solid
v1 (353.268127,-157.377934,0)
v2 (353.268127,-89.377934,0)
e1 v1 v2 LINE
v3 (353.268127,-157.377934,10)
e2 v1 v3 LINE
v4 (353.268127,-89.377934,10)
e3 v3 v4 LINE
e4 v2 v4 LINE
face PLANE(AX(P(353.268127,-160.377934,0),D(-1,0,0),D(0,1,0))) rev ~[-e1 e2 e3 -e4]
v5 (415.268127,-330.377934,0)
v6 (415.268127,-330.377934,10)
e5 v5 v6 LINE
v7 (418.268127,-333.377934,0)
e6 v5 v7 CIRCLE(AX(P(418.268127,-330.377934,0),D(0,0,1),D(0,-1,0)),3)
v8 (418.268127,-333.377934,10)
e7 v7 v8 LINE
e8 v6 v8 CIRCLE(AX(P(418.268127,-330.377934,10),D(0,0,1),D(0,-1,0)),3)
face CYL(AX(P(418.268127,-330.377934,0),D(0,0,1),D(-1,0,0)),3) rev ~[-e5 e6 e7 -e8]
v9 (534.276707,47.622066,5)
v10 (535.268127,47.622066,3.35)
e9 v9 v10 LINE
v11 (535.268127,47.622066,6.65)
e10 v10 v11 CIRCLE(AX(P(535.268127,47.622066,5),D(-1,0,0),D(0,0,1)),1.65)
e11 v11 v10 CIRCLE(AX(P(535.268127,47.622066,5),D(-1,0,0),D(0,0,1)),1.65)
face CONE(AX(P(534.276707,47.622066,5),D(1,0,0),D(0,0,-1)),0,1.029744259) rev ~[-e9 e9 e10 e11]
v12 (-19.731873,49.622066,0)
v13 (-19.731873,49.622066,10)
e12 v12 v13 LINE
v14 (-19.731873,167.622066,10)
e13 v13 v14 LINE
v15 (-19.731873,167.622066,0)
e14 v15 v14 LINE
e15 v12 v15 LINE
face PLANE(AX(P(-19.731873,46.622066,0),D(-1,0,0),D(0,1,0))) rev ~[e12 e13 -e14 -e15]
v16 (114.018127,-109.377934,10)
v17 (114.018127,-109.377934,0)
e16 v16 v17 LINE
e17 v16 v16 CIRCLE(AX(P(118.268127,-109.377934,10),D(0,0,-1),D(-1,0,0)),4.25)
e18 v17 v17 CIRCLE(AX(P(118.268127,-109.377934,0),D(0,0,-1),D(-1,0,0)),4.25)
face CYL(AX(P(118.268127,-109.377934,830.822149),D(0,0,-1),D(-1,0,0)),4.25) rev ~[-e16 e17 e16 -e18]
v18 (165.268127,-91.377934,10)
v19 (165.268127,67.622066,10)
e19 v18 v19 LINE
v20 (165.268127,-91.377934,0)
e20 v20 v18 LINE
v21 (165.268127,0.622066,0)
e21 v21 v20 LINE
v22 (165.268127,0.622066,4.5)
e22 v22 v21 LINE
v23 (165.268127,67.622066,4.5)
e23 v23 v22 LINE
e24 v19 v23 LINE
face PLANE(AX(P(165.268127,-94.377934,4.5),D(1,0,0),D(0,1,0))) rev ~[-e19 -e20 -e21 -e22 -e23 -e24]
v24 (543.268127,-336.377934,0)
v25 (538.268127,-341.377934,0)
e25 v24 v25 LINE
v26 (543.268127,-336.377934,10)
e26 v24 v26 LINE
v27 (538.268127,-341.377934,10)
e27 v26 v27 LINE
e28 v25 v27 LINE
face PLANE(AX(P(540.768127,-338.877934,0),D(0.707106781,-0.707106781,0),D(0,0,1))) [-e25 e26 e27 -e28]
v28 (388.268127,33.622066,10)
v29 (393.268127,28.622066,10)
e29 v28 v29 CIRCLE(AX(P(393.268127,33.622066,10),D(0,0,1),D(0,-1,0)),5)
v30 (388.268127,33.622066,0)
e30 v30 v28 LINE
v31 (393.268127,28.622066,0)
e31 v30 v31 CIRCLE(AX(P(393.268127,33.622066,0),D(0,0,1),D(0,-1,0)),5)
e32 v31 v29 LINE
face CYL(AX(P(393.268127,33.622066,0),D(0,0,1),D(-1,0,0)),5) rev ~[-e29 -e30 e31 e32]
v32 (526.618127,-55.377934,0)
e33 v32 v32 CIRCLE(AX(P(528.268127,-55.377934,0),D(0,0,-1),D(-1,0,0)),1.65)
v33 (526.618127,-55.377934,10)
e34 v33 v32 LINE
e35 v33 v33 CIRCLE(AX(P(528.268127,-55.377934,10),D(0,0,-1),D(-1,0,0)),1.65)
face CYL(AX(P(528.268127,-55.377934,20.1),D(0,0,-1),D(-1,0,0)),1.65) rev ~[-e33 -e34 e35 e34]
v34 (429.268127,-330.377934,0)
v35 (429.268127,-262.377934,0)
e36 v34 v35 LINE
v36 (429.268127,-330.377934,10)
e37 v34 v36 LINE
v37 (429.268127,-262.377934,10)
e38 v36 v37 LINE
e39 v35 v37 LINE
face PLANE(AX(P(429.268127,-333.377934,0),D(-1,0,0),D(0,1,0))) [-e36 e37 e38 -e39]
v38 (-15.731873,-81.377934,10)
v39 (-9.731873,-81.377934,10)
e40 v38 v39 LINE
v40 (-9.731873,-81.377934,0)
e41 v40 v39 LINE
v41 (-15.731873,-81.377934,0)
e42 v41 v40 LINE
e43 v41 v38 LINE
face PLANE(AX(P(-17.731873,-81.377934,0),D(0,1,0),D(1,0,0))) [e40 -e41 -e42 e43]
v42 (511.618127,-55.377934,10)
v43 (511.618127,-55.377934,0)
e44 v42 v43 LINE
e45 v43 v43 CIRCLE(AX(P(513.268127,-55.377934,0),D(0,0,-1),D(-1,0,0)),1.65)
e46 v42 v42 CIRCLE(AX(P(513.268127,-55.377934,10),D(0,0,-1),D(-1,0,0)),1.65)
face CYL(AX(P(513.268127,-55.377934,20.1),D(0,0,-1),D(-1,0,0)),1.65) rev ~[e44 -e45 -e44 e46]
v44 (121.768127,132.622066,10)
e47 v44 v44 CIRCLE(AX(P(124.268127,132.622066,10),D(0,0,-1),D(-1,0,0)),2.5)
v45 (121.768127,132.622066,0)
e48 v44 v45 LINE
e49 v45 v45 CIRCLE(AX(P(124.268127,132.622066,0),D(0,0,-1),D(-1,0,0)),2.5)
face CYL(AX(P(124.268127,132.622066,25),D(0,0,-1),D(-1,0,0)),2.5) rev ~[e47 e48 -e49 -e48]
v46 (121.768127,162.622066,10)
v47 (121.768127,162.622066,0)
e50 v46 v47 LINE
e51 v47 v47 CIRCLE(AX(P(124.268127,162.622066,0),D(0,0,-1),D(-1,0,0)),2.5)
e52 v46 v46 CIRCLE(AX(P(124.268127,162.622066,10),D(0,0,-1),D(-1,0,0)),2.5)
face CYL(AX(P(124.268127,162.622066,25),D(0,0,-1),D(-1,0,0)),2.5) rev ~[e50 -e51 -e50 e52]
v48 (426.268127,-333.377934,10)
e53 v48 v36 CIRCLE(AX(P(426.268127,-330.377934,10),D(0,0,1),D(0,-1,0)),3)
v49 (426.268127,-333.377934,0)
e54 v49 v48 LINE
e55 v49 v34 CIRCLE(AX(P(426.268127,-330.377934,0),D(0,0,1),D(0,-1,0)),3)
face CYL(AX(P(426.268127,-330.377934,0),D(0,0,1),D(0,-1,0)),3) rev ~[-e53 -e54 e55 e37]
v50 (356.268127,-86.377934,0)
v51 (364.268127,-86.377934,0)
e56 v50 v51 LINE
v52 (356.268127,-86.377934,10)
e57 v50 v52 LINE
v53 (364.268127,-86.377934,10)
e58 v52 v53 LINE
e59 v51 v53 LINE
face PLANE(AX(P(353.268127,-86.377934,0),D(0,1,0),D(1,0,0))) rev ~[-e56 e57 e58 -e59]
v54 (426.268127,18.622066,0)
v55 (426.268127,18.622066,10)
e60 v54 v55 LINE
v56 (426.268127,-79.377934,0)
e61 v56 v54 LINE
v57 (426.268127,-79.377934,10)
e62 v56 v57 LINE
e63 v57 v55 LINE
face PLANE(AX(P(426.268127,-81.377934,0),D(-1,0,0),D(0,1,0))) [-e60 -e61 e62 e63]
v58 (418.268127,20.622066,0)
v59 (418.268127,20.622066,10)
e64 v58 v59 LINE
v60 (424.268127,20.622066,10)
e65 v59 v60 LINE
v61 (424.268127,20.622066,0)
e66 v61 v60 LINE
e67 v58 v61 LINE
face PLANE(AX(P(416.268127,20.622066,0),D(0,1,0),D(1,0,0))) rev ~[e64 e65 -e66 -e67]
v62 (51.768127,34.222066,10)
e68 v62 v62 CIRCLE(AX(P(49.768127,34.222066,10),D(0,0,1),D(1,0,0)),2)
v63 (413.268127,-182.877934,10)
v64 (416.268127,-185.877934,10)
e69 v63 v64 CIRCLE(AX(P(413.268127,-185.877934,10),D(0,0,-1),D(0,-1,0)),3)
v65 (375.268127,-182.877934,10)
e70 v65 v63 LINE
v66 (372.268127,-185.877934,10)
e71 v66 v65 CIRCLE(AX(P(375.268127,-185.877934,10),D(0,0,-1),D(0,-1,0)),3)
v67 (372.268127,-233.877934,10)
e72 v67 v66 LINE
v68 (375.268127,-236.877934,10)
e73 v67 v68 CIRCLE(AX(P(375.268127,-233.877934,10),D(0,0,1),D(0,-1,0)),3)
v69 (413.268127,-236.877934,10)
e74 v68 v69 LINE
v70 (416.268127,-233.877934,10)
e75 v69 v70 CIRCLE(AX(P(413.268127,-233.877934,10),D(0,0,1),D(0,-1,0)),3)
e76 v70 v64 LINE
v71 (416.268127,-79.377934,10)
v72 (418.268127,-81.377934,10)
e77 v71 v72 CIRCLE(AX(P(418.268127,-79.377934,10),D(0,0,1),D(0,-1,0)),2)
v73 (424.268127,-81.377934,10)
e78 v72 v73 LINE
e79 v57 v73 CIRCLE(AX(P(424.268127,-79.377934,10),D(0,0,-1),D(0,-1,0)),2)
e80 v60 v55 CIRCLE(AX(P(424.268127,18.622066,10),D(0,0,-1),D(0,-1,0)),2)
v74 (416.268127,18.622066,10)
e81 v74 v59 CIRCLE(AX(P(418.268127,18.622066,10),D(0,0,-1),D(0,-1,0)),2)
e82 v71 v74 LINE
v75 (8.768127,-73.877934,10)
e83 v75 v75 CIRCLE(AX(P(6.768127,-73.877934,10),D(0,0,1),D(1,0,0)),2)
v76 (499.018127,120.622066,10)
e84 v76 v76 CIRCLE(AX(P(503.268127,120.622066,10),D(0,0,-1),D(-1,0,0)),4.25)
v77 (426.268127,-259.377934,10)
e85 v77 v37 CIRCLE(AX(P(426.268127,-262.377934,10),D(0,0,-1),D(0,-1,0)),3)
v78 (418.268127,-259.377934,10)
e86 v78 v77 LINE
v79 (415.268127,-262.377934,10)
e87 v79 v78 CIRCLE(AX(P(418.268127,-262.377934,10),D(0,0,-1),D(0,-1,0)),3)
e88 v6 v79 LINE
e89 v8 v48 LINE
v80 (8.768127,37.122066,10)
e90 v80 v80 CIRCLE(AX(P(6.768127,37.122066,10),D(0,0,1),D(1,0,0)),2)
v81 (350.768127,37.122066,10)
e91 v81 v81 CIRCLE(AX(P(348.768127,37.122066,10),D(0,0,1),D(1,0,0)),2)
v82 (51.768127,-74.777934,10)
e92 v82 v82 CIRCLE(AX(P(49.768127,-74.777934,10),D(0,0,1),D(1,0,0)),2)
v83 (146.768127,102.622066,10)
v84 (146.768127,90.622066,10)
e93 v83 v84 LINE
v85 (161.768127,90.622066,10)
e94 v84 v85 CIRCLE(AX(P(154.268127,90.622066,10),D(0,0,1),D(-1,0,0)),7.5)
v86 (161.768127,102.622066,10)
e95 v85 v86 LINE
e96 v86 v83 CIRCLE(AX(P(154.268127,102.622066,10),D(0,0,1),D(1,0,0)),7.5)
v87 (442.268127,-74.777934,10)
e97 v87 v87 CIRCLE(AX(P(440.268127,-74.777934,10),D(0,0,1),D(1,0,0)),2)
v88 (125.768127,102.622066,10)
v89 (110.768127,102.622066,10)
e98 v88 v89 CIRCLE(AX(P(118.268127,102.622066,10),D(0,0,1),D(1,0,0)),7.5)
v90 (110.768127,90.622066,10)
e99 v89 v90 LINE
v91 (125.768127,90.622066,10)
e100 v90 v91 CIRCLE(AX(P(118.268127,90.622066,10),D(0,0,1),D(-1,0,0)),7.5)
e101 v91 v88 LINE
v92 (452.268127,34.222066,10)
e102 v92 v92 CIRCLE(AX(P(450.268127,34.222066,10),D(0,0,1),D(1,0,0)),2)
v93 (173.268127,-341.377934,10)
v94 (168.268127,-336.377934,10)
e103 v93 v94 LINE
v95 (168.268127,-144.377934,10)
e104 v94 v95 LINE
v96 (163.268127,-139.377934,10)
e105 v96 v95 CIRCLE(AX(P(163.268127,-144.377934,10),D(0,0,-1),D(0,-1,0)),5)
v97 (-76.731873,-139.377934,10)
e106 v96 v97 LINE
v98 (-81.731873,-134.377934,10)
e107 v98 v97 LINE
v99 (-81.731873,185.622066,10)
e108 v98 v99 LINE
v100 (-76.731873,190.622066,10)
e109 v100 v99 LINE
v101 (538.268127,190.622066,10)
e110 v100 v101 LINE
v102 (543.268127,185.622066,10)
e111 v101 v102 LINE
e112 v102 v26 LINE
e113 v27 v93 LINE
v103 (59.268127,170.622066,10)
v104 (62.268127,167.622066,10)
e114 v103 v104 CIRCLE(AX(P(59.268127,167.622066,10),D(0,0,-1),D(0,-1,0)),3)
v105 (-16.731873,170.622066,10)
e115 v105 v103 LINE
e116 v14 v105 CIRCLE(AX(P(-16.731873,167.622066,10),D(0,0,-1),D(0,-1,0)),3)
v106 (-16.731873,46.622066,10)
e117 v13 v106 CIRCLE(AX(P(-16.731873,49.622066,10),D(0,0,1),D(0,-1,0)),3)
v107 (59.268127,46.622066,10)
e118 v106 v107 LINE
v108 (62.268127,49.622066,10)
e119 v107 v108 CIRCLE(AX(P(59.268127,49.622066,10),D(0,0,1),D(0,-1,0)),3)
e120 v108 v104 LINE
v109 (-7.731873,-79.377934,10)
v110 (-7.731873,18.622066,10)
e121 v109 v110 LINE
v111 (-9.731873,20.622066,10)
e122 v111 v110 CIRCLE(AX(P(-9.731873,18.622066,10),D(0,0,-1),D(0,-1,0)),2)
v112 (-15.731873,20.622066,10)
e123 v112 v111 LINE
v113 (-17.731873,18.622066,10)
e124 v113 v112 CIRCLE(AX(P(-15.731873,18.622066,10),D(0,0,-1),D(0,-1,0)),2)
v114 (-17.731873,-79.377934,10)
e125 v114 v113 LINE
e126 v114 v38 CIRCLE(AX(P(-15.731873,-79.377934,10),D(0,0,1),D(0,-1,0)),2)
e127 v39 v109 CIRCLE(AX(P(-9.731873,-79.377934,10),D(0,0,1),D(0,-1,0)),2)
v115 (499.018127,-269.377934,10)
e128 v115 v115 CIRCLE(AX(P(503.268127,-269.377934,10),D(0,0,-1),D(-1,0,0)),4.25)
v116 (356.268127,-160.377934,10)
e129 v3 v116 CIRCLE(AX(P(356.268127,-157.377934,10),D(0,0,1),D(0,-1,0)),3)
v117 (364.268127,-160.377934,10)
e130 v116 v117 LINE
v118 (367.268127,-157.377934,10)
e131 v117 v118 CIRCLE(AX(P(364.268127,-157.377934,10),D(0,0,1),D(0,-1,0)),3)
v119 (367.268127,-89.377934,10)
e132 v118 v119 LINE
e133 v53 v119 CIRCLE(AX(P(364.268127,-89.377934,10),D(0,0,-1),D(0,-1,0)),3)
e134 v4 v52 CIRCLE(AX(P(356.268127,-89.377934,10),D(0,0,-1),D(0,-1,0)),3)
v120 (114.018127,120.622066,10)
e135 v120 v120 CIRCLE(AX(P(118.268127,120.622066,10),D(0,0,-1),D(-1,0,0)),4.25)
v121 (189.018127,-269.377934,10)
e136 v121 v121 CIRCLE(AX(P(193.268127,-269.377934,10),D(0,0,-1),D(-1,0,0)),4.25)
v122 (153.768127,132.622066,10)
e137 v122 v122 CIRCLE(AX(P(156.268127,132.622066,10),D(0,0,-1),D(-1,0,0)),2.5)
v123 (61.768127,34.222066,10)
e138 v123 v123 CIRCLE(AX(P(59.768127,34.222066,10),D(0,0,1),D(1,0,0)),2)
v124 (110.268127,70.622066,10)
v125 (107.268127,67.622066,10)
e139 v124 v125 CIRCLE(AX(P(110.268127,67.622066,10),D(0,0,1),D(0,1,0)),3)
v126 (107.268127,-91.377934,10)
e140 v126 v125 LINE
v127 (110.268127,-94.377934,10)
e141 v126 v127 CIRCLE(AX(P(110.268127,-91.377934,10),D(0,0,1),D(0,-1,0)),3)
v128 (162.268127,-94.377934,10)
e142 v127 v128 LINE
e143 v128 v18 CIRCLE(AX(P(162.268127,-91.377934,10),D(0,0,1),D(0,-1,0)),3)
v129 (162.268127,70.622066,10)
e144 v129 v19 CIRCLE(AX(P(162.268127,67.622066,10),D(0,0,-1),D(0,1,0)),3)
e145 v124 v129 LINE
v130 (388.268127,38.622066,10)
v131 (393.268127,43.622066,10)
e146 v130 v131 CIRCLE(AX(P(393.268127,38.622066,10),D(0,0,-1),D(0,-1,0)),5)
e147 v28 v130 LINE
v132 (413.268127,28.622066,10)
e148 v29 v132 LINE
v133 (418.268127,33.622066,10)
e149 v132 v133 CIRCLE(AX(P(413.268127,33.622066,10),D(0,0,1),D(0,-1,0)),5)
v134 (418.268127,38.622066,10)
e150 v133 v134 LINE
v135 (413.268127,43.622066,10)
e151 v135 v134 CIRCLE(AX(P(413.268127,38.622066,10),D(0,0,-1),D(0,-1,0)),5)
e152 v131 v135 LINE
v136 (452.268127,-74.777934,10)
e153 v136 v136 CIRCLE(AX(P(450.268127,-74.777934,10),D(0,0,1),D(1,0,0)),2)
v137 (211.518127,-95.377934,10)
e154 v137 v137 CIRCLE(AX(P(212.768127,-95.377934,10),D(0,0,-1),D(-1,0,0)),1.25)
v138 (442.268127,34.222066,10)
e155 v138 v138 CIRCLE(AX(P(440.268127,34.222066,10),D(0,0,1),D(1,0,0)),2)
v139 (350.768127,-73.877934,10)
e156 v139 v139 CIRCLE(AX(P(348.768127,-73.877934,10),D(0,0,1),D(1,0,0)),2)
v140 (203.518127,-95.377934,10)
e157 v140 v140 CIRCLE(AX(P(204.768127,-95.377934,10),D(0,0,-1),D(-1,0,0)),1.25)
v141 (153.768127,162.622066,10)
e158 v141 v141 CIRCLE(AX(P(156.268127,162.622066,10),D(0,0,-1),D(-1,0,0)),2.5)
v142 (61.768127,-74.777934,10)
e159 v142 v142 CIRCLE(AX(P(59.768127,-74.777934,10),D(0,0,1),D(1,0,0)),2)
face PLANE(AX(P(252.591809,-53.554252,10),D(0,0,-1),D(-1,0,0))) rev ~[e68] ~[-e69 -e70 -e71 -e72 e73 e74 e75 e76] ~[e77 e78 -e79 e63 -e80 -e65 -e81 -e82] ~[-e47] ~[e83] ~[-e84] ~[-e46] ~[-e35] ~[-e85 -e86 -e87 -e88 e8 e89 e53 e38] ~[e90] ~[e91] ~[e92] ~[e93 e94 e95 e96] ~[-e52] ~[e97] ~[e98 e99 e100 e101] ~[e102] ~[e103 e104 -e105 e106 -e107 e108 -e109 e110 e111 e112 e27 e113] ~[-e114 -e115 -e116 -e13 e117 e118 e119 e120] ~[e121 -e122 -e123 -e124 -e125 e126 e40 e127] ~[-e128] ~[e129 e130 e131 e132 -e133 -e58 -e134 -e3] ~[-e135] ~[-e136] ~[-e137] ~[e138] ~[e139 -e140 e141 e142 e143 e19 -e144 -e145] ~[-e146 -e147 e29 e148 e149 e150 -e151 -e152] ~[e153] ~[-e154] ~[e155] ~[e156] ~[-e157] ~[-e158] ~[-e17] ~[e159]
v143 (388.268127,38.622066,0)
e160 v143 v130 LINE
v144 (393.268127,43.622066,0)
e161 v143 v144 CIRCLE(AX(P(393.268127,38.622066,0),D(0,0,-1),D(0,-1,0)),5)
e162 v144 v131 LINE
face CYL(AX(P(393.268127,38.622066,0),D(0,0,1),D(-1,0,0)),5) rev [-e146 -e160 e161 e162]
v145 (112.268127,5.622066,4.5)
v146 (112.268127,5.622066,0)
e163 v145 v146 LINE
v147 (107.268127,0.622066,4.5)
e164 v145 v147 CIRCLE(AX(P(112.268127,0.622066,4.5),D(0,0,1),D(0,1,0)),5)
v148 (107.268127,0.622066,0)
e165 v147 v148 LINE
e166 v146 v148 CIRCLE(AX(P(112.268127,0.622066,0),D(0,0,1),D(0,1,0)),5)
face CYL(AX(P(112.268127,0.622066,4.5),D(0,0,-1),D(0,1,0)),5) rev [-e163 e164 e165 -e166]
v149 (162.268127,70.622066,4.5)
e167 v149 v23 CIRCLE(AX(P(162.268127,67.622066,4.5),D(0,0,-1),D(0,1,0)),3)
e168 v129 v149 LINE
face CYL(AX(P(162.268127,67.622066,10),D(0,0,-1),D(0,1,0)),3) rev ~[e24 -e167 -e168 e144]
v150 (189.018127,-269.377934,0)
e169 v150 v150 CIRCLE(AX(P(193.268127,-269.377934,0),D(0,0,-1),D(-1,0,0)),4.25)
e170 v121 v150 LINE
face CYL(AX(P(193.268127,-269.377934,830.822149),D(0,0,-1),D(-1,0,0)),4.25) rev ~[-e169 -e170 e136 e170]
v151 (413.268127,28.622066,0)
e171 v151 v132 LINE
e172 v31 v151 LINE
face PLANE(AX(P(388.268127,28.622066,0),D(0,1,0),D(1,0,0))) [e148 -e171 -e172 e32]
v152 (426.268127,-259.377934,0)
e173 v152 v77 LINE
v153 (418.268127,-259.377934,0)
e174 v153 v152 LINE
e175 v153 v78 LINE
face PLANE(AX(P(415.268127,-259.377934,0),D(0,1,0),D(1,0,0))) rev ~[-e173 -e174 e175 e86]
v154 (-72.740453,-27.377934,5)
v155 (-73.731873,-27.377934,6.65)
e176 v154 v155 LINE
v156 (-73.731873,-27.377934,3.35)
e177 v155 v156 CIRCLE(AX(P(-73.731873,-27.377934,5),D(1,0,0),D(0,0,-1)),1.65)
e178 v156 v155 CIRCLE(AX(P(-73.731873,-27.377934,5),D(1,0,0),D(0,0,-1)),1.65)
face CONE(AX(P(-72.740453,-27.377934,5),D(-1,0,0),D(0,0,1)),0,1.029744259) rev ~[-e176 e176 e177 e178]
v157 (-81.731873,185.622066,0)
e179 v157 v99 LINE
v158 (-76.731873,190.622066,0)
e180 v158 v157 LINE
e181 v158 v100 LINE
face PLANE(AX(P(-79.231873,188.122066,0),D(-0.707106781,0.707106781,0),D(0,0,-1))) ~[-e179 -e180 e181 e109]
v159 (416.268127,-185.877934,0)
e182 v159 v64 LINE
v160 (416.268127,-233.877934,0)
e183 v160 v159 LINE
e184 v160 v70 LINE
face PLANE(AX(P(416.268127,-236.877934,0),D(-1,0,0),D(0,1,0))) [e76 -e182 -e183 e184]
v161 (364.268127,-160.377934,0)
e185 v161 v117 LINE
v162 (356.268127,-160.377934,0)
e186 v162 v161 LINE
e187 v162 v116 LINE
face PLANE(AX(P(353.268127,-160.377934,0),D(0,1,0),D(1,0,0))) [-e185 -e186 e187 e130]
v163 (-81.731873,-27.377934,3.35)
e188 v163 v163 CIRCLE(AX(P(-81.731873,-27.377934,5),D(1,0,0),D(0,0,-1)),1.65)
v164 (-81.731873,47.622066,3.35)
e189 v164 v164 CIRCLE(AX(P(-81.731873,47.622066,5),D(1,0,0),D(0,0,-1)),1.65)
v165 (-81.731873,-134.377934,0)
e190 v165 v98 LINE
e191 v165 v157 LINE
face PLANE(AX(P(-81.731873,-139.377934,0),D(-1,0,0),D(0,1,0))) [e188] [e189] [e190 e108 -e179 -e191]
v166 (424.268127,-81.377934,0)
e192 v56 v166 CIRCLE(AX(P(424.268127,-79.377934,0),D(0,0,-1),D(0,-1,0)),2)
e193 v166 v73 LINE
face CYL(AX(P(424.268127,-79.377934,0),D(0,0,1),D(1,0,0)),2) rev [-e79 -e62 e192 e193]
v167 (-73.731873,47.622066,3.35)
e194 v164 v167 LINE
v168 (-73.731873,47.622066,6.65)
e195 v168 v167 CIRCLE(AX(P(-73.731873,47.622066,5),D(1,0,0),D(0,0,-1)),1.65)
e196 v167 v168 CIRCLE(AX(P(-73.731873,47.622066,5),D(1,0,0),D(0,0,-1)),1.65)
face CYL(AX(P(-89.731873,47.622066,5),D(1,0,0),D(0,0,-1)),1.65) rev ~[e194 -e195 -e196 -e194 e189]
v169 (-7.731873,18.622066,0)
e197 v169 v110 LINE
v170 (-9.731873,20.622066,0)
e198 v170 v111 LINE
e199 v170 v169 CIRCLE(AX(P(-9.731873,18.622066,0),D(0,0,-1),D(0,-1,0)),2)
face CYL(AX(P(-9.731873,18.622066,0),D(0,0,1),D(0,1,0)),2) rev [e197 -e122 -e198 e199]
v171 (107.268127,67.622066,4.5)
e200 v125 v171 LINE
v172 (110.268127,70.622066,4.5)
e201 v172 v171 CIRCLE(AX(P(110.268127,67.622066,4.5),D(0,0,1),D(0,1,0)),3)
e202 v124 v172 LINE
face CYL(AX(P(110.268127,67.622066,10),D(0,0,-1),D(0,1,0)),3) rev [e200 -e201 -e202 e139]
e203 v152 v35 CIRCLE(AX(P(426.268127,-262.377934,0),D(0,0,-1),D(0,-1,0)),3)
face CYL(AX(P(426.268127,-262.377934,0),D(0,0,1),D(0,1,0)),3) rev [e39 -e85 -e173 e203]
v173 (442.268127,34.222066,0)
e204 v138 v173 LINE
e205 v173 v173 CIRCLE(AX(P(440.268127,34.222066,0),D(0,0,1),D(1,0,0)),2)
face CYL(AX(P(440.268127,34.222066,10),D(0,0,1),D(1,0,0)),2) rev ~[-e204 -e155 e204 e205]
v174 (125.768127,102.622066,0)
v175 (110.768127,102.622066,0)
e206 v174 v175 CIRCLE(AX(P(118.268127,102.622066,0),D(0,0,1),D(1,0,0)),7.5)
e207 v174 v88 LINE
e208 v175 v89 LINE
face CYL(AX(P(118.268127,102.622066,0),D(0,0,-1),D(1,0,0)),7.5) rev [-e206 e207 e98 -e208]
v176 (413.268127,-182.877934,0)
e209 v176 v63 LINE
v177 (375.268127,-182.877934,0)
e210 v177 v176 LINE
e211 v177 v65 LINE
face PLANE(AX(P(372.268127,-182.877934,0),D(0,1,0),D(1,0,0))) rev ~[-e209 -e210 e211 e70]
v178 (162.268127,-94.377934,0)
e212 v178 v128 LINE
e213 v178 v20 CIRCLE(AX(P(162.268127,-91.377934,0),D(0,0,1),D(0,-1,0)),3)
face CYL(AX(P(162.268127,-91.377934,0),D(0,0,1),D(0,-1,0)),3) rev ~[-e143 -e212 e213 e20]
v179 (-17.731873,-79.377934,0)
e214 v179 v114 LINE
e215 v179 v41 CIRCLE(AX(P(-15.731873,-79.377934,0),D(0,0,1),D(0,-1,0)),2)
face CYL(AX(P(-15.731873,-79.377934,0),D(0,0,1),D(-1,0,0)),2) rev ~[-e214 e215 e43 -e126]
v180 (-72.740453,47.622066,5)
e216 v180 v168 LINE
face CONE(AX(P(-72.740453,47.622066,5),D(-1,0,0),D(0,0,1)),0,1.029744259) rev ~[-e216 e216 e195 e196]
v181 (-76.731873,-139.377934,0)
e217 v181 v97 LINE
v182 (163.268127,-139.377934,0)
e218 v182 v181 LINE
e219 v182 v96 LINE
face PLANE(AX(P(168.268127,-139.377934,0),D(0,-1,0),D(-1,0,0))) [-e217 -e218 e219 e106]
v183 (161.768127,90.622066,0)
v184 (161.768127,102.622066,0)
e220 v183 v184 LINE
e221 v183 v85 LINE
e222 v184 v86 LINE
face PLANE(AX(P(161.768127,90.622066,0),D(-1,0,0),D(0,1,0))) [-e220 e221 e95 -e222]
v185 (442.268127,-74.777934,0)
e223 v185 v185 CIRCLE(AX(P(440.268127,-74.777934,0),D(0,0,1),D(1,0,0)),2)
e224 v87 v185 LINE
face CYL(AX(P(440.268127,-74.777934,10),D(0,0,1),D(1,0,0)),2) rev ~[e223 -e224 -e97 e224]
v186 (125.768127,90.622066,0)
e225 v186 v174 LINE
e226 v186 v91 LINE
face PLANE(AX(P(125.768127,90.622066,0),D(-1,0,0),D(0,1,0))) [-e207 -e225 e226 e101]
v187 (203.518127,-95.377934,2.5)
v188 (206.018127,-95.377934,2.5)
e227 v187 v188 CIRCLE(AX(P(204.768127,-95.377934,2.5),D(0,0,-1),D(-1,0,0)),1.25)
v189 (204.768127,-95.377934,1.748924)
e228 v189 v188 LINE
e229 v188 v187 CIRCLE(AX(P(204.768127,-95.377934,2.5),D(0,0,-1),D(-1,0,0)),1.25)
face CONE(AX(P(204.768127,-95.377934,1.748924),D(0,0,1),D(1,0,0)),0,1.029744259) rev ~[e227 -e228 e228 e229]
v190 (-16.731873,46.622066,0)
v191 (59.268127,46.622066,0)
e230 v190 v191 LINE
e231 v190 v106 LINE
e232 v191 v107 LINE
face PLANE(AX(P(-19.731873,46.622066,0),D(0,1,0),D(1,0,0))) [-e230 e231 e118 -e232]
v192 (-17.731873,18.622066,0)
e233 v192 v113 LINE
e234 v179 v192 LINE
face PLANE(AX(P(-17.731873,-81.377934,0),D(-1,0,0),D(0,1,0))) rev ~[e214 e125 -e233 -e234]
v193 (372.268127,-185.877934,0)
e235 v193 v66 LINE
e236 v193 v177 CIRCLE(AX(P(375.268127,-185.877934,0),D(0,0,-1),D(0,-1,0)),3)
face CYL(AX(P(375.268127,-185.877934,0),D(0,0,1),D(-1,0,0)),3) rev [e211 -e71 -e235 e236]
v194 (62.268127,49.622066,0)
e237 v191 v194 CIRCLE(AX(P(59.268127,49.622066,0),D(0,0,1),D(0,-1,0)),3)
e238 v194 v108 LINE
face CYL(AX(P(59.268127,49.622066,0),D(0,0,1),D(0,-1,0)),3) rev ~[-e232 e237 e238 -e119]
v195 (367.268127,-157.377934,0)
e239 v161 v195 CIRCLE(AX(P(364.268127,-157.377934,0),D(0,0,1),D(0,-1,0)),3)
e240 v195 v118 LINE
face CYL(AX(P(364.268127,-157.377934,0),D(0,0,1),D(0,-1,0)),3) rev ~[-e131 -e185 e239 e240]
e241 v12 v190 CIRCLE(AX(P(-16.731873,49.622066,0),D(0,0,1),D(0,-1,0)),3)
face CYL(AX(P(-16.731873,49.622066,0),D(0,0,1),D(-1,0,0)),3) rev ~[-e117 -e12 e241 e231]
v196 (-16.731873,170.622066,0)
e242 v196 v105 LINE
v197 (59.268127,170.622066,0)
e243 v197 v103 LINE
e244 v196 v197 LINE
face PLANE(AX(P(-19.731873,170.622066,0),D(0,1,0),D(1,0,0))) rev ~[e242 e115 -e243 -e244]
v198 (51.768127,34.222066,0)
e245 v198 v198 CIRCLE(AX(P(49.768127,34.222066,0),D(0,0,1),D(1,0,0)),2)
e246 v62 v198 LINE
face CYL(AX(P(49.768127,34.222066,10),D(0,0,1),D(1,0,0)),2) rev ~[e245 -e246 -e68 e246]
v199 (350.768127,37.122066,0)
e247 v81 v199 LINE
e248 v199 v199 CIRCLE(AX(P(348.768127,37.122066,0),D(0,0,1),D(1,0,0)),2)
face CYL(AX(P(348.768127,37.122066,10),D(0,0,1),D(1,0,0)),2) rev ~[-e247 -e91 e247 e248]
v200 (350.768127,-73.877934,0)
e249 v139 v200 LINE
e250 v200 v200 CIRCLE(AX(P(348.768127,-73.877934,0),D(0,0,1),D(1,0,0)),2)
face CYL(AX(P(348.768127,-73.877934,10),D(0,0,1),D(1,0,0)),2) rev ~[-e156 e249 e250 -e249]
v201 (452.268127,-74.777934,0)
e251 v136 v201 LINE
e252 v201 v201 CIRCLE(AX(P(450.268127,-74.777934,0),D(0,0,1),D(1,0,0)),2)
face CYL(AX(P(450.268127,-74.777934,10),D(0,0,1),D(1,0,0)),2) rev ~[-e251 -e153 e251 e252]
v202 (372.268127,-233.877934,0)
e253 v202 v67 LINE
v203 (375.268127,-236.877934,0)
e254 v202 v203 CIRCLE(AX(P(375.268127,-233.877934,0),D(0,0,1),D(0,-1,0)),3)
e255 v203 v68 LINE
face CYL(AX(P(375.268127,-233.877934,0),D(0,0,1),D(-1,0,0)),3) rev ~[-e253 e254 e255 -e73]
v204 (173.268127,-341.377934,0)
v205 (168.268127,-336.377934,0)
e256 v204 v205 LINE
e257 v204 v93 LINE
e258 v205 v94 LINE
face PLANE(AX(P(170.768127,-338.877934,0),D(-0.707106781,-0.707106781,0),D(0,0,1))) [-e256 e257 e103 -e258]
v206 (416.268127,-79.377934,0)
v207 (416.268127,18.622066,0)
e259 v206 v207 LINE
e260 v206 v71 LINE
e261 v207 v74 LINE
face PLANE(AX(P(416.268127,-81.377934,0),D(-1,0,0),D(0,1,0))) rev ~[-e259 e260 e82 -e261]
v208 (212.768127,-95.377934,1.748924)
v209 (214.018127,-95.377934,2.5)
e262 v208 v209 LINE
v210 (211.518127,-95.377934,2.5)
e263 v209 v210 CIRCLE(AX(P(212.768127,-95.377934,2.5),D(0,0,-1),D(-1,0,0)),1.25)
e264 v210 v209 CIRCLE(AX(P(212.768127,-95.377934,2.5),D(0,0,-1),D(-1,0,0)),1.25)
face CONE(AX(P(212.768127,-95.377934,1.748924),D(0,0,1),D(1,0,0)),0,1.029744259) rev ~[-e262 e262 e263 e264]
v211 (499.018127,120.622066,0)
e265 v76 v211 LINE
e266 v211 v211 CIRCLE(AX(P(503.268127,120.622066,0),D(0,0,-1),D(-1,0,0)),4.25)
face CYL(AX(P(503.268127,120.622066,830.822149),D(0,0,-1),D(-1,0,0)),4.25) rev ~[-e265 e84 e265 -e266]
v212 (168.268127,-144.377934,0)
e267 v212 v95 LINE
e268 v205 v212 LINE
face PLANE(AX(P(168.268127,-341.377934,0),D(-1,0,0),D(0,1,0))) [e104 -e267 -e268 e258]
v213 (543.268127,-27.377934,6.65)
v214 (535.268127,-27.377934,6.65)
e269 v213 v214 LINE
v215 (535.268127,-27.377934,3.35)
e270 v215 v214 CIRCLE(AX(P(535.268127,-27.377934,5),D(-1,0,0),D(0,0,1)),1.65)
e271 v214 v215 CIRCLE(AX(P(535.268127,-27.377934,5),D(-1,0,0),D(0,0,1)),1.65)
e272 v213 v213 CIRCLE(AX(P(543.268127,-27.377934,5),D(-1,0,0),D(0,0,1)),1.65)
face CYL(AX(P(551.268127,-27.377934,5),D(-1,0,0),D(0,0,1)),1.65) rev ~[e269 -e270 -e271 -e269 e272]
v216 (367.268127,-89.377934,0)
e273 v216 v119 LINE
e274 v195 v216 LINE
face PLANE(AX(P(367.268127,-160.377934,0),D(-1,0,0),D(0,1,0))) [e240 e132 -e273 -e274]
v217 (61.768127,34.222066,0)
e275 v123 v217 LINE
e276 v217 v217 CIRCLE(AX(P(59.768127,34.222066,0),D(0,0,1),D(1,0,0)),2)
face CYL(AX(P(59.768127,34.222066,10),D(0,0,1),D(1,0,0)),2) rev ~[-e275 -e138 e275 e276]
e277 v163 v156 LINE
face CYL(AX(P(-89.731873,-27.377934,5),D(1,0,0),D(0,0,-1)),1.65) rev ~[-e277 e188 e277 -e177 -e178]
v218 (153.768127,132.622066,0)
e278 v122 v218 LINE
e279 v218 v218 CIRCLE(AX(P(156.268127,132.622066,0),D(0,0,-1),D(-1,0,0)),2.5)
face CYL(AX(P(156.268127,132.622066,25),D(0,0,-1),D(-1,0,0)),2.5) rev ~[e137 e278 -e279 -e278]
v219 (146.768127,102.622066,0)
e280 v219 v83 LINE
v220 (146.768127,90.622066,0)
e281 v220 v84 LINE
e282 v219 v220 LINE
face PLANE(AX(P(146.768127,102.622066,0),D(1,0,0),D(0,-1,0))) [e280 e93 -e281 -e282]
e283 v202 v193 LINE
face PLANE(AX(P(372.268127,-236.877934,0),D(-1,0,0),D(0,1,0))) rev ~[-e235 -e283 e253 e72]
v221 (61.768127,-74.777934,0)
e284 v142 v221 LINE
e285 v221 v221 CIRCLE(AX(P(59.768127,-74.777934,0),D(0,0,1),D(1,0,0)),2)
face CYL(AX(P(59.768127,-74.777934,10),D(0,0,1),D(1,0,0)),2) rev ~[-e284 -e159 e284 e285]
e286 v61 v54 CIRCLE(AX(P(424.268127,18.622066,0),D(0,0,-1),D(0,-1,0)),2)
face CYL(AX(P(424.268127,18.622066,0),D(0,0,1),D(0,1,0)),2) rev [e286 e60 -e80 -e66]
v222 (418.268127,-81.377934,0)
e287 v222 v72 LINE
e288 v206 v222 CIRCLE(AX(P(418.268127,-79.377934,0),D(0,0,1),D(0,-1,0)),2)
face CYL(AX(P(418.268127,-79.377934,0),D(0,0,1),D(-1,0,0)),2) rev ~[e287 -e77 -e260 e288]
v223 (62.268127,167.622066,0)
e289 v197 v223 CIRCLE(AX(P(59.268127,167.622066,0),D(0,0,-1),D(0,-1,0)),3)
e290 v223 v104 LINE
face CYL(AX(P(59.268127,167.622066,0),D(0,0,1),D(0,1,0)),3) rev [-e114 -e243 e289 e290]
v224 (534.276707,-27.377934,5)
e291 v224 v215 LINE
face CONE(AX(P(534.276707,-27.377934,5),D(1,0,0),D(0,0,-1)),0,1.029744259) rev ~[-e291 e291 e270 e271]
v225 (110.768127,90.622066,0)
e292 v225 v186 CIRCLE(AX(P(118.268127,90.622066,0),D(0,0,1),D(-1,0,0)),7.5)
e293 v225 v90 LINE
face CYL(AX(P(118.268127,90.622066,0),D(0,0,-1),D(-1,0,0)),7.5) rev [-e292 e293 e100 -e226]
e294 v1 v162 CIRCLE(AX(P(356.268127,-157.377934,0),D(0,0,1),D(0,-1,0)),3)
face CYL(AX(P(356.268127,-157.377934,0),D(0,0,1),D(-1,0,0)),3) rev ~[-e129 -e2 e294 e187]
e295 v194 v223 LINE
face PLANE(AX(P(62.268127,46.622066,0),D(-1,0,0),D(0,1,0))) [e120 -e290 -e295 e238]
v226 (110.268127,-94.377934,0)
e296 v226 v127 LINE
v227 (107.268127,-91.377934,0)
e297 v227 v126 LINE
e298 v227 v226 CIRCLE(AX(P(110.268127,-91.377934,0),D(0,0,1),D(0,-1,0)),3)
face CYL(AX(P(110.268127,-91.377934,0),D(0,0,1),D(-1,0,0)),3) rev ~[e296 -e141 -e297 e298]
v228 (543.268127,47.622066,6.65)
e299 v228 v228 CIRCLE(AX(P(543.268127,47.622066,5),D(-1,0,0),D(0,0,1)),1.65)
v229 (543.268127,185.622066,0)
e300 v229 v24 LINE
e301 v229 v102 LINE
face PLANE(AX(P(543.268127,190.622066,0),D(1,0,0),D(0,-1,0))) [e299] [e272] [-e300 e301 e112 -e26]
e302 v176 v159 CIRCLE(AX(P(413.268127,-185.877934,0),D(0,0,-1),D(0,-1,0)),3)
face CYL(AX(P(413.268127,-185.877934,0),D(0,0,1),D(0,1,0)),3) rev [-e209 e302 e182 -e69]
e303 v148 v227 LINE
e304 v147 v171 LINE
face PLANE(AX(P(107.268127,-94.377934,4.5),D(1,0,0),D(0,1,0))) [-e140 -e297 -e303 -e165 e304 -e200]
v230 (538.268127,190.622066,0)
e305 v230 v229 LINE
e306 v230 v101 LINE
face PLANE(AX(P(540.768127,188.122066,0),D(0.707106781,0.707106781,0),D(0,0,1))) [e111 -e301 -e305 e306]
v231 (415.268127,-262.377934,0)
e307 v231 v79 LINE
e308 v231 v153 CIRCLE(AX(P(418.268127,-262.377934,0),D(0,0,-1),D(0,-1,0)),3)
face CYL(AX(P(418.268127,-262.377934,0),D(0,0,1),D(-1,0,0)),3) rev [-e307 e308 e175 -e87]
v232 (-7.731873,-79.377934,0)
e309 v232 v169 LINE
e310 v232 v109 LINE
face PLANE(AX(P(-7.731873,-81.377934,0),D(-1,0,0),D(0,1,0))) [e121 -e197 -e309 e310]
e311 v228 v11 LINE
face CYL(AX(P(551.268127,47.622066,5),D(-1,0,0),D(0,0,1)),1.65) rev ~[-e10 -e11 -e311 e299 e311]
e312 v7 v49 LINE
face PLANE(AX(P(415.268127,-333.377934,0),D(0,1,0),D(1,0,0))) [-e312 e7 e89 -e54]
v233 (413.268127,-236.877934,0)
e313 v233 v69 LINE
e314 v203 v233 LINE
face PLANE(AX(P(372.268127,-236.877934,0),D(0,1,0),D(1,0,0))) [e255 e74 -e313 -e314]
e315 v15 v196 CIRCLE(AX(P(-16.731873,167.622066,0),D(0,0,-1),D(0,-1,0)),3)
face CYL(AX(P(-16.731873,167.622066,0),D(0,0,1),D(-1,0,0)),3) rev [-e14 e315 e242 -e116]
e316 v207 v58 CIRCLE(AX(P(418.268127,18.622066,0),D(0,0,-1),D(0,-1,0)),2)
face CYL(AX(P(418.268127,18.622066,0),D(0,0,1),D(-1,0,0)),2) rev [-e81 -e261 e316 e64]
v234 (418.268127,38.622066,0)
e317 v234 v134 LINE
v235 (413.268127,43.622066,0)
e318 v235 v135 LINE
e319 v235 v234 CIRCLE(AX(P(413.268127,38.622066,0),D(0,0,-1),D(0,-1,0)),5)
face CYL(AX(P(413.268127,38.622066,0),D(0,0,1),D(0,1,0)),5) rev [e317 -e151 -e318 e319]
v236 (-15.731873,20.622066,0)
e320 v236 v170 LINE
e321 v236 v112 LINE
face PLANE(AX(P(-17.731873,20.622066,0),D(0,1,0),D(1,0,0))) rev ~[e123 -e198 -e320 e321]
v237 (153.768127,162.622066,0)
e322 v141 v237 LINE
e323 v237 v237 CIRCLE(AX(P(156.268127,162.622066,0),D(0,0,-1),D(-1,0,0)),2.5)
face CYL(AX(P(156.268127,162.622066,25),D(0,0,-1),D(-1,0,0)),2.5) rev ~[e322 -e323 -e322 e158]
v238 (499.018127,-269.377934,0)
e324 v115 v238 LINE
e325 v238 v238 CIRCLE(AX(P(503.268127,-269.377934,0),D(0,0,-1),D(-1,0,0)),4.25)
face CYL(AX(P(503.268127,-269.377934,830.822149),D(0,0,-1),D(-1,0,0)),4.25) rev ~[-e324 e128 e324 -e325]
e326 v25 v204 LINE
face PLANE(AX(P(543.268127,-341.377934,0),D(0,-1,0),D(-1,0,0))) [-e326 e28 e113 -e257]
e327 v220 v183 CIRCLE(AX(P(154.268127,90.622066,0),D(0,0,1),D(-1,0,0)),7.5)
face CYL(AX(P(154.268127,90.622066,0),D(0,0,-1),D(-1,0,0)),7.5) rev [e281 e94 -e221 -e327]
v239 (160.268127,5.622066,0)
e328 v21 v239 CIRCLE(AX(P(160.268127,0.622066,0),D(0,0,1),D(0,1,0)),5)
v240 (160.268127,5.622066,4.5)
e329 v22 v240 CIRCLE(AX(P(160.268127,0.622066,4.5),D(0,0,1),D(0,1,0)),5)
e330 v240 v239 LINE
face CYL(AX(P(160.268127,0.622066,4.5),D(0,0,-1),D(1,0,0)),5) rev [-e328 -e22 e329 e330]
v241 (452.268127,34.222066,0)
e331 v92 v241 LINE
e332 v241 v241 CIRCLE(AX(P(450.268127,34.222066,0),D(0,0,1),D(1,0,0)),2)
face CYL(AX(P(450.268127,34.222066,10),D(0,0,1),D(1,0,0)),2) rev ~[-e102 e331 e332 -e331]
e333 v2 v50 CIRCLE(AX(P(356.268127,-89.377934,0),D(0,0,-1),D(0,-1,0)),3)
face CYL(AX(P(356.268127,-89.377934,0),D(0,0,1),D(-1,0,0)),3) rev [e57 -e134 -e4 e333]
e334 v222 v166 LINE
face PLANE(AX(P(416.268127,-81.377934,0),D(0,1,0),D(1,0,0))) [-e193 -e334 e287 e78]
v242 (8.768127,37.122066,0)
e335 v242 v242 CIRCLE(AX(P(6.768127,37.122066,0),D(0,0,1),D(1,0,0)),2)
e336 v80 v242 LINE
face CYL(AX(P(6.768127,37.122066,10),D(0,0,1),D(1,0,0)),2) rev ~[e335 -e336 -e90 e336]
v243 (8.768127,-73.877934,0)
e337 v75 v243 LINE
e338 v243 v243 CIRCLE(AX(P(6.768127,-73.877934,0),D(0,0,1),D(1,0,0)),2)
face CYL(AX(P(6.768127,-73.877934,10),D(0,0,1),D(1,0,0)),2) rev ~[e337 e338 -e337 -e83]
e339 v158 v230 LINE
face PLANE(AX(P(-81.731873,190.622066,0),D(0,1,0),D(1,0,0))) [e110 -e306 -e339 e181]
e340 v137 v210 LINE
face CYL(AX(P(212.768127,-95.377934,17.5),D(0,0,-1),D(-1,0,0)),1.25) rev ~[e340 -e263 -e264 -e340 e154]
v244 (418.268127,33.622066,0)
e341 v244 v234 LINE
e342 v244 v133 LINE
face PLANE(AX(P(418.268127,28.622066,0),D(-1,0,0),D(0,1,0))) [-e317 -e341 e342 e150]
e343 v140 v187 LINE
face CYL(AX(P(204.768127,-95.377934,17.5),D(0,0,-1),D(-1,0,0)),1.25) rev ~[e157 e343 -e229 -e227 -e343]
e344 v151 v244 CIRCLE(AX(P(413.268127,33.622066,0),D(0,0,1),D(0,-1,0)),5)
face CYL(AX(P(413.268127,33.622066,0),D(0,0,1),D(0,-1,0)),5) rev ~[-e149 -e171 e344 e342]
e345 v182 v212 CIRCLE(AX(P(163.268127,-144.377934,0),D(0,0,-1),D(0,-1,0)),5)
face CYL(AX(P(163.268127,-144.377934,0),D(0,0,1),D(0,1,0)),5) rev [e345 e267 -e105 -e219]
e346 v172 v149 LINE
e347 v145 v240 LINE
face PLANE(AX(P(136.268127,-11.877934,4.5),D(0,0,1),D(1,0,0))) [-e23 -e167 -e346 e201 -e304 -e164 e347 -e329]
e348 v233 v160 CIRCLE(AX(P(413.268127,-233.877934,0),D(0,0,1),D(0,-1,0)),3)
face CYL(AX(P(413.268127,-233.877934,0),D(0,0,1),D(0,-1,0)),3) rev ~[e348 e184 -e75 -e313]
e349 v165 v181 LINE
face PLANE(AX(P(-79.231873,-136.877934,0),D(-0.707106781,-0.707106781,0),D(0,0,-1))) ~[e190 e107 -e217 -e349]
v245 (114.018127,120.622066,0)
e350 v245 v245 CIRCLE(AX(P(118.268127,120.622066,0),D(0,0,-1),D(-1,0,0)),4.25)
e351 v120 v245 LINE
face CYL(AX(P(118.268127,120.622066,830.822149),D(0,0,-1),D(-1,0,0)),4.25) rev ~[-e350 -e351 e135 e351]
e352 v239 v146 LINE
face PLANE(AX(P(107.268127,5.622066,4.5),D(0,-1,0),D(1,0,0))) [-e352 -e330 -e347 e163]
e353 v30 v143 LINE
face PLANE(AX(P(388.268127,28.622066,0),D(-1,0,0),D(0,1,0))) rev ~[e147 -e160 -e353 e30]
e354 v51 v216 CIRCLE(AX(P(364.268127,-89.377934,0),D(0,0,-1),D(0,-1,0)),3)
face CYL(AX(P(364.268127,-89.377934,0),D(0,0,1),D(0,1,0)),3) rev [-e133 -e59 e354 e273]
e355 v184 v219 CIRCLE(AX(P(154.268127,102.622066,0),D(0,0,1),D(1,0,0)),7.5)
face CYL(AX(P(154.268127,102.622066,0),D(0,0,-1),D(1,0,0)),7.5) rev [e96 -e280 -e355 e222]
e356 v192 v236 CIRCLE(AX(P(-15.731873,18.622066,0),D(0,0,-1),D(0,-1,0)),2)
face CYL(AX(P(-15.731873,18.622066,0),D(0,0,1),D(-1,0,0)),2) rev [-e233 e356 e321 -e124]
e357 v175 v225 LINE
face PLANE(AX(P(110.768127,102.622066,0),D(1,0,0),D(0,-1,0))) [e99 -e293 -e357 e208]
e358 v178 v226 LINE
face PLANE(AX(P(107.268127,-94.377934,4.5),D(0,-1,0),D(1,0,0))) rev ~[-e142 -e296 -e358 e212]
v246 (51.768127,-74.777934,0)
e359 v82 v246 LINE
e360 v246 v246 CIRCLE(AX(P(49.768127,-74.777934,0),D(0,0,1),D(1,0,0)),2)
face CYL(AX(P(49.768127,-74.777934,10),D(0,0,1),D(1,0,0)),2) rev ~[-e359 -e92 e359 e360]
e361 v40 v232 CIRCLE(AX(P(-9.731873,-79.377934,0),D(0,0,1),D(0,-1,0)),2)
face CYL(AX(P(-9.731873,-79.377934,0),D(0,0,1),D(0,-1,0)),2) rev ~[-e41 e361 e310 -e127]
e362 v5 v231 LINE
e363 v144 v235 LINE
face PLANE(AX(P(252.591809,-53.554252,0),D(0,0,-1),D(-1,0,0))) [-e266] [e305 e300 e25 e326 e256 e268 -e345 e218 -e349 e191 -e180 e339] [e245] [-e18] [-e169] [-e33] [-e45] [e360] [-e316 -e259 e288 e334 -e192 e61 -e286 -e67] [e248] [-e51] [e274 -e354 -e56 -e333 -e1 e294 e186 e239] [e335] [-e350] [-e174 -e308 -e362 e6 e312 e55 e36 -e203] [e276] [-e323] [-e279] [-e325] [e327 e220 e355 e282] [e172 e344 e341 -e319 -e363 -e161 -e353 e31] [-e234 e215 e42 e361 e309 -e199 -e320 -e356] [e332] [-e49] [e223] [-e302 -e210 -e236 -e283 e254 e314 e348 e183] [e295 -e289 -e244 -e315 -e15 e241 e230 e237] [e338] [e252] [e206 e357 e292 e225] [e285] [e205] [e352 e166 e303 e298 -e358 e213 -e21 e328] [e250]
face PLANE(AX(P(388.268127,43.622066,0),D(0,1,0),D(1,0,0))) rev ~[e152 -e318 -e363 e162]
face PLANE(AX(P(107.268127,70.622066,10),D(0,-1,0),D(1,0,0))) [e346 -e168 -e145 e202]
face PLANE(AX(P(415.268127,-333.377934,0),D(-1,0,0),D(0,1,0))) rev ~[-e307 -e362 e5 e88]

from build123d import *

# Parameters (mm, degrees)
SKETCH1_W             = 82
SKETCH1_H             = 124
SKETCH1_W_2           = 44
SKETCH1_H_2           = 54
SKETCH1_W_3           = 10
SKETCH1_H_3           = 102
SKETCH1_W_4           = 14
SKETCH1_H_4           = 74
SKETCH1_W_5           = 30
SKETCH1_H_5           = 15
BOSS_EXTRUDE1_DEPTH   = 10
FILLET1_R             = 3
FILLET2_R             = 2
FILLET3_R             = 5
FILLET4_R             = 2
FILLET5_R             = 3
CHAMFER1_SIZE         = 5
FILLET6_R             = 5
SKETCH2_W             = 58
SKETCH2_H             = 165
CUT_EXTRUDE1_DEPTH    = 5.5
SKETCH3_W             = 58
SKETCH3_H             = 100
CUT_EXTRUDE2_DEPTH    = 5.5
FILLET7_R             = 3
FILLET8_R             = 5
SKETCH4_R             = 2
CUT_EXTRUDE3_DEPTH    = 11
M4_TAPPED_HOLE1_D     = 3.3
M4_TAPPED_HOLE1_DEPTH = 8
M4_TAPPED_HOLE1_TIP   = 0.991420021
M4_TAPPED_HOLE2_D     = 3.3
M4_TAPPED_HOLE2_DEPTH = 8
M4_TAPPED_HOLE2_TIP   = 0.991420021
M10_TAPPED_HOLE1_D    = 8.5
M4_TAPPED_HOLE3_D     = 3.3
M4_TAPPED_HOLE3_DEPTH = 10.1
M4_TAPPED_HOLE3_TIP   = 0.991420021
SKETCH15_R            = 2
CUT_EXTRUDE4_DEPTH    = 11
M3_TAPPED_HOLE1_D     = 2.5
M3_TAPPED_HOLE1_DEPTH = 7.5
M3_TAPPED_HOLE1_TIP   = 0.751075774
M6_TAPPED_HOLE1_D     = 5
M6_TAPPED_HOLE1_DEPTH = 15
M6_TAPPED_HOLE1_TIP   = 1.502151548


with BuildPart() as part:
    # Sketch1 → Boss-Extrude1 (new body)
    with BuildSketch(Plane.XY):
        Polygon((-81.731872987, 190.622065728), (543.268127013, 190.622065728), (543.268127013, -341.377934272), (168.268127013, -341.377934272), (168.268127013, -139.377934272), (-81.731872987, -139.377934272), align=None)
        with Locations((21.268127013, 108.622065728)):
            Rectangle(SKETCH1_W, SKETCH1_H, mode=Mode.SUBTRACT)
        with Locations((394.268127013, -209.877934272)):
            Rectangle(SKETCH1_W_2, SKETCH1_H_2, mode=Mode.SUBTRACT)
        with Locations((-12.731872987, -30.377934272)):
            Rectangle(SKETCH1_W_3, SKETCH1_H_3, mode=Mode.SUBTRACT)
        with BuildLine():
            Line((110.768127013, 102.622065728), (110.768127013, 90.622065728))
            ThreePointArc((110.768127013, 90.622065728), (118.268127013, 83.122065728), (125.768127013, 90.622065728))
            Line((125.768127013, 90.622065728), (125.768127013, 102.622065728))
            ThreePointArc((125.768127013, 102.622065728), (118.268127013, 110.122065728), (110.768127013, 102.622065728))
        make_face(mode=Mode.SUBTRACT)
        with BuildLine():
            Line((146.768127013, 102.622065728), (146.768127013, 90.622065728))
            ThreePointArc((146.768127013, 90.622065728), (154.268127013, 83.122065728), (161.768127013, 90.622065728))
            Line((161.768127013, 90.622065728), (161.768127013, 102.622065728))
            ThreePointArc((161.768127013, 102.622065728), (154.268127013, 110.122065728), (146.768127013, 102.622065728))
        make_face(mode=Mode.SUBTRACT)
        with Locations((360.268127013, -123.377934272)):
            Rectangle(SKETCH1_W_4, SKETCH1_H_4, mode=Mode.SUBTRACT)
        with Locations((422.268127013, -296.377934272)):
            Rectangle(SKETCH1_W_4, SKETCH1_H_4, mode=Mode.SUBTRACT)
        with Locations((403.268127013, 36.122065728)):
            Rectangle(SKETCH1_W_5, SKETCH1_H_5, mode=Mode.SUBTRACT)
        with Locations((421.268127013, -30.377934272)):
            Rectangle(SKETCH1_W_3, SKETCH1_H_3, mode=Mode.SUBTRACT)
    extrude(amount=BOSS_EXTRUDE1_DEPTH)

    # Fillet1
    fillet1_edges = [part.edges().sort_by_distance(p)[0] for p in [
        (-19.731872987, 170.622065728, 5),
        (-19.731872987, 46.622065728, 5),
        (62.268127013, 46.622065728, 5),
        (62.268127013, 170.622065728, 5),
    ]]
    fillet(fillet1_edges, radius=FILLET1_R)

    # Fillet2
    fillet2_edges = [part.edges().sort_by_distance(p)[0] for p in [
        (-17.731872987, 20.622065728, 5),
        (-17.731872987, -81.377934272, 5),
        (-7.731872987, -81.377934272, 5),
        (-7.731872987, 20.622065728, 5),
    ]]
    fillet(fillet2_edges, radius=FILLET2_R)

    # Fillet3
    fillet3_edges = [part.edges().sort_by_distance(p)[0] for p in [
        (388.268127013, 43.622065728, 5),
        (388.268127013, 28.622065728, 5),
        (418.268127013, 28.622065728, 5),
        (418.268127013, 43.622065728, 5),
    ]]
    fillet(fillet3_edges, radius=FILLET3_R)

    # Fillet4
    fillet4_edges = [part.edges().sort_by_distance(p)[0] for p in [
        (416.268127013, 20.622065728, 5),
        (416.268127013, -81.377934272, 5),
        (426.268127013, -81.377934272, 5),
        (426.268127013, 20.622065728, 5),
    ]]
    fillet(fillet4_edges, radius=FILLET4_R)

    # Fillet5
    fillet5_edges = [part.edges().sort_by_distance(p)[0] for p in [
        (372.268127013, -182.877934272, 5),
        (372.268127013, -236.877934272, 5),
        (416.268127013, -236.877934272, 5),
        (416.268127013, -182.877934272, 5),
        (415.268127013, -259.377934272, 5),
        (415.268127013, -333.377934272, 5),
        (429.268127013, -333.377934272, 5),
        (429.268127013, -259.377934272, 5),
        (353.268127013, -86.377934272, 5),
        (353.268127013, -160.377934272, 5),
        (367.268127013, -160.377934272, 5),
        (367.268127013, -86.377934272, 5),
    ]]
    fillet(fillet5_edges, radius=FILLET5_R)

    # Chamfer1
    chamfer1_edges = [part.edges().sort_by_distance(p)[0] for p in [
        (-81.731872987, 190.622065728, 5),
        (543.268127013, 190.622065728, 5),
        (543.268127013, -341.377934272, 5),
        (168.268127013, -341.377934272, 5),
        (-81.731872987, -139.377934272, 5),
    ]]
    chamfer(chamfer1_edges, length=CHAMFER1_SIZE)

    # Fillet6
    fillet6_edges = [part.edges().sort_by_distance(p)[0] for p in [
        (168.268127013, -139.377934272, 5),
    ]]
    fillet(fillet6_edges, radius=FILLET6_R)

    # Sketch2 → Cut-Extrude1 (cut)
    with BuildSketch(Plane.XY.offset(10)):
        with Locations((136.268127013, -11.877934272)):
            Rectangle(SKETCH2_W, SKETCH2_H)
    extrude(amount=-CUT_EXTRUDE1_DEPTH, mode=Mode.SUBTRACT)

    # Sketch3 → Cut-Extrude2 (cut, through all)
    with BuildSketch(Plane.XY.offset(4.5)):
        with Locations((136.268127013, -44.377934272)):
            Rectangle(SKETCH3_W, SKETCH3_H)
    extrude(amount=-CUT_EXTRUDE2_DEPTH, mode=Mode.SUBTRACT)

    # Fillet7
    fillet7_edges = [part.edges().sort_by_distance(p)[0] for p in [
        (107.268127013, -94.377934272, 5),
        (107.268127013, 70.622065728, 7.25),
        (165.268127013, 70.622065728, 7.25),
        (165.268127013, -94.377934272, 5),
    ]]
    fillet(fillet7_edges, radius=FILLET7_R)

    # Fillet8
    fillet8_edges = [part.edges().sort_by_distance(p)[0] for p in [
        (165.268127013, 5.622065728, 2.25),
        (107.268127013, 5.622065728, 2.25),
    ]]
    fillet(fillet8_edges, radius=FILLET8_R)

    # Sketch4 → Cut-Extrude3 (cut, through all)
    with BuildSketch(Plane.XY.offset(10)):
        with Locations((6.768127013, 37.122065728)):
            Circle(SKETCH4_R)
        with Locations((6.768127013, -73.877934272)):
            Circle(SKETCH4_R)
        with Locations((348.768127013, 37.122065728)):
            Circle(SKETCH4_R)
        with Locations((348.768127013, -73.877934272)):
            Circle(SKETCH4_R)
    extrude(amount=-CUT_EXTRUDE3_DEPTH, mode=Mode.SUBTRACT)

    # M4 Tapped Hole1
    with Locations(Plane.ZY.offset(81.731872987)):
        with Locations((5, 47.622065728), (5, -27.377934272)):
            Hole(M4_TAPPED_HOLE1_D / 2, depth=M4_TAPPED_HOLE1_DEPTH)
            with Locations((0, 0, -(M4_TAPPED_HOLE1_DEPTH + M4_TAPPED_HOLE1_TIP / 2))):  # 118° drill point
                Cone(0, M4_TAPPED_HOLE1_D / 2, M4_TAPPED_HOLE1_TIP, mode=Mode.SUBTRACT)

    # M4 Tapped Hole2
    with Locations(Plane(origin=(543.268127013, 0, 0), x_dir=(0, 0, -1), z_dir=(1, 0, 0))):
        with Locations((-5, 47.622065728), (-5, -27.377934272)):
            Hole(M4_TAPPED_HOLE2_D / 2, depth=M4_TAPPED_HOLE2_DEPTH)
            with Locations((0, 0, -(M4_TAPPED_HOLE2_DEPTH + M4_TAPPED_HOLE2_TIP / 2))):  # 118° drill point
                Cone(0, M4_TAPPED_HOLE2_D / 2, M4_TAPPED_HOLE2_TIP, mode=Mode.SUBTRACT)

    # M10 Tapped Hole1 (through all)
    with Locations(Plane.XY.offset(10)):
        with Locations((118.268127013, -109.377934272), (193.268127013, -269.377934272), (503.268127013, -269.377934272), (118.268127013, 120.622065728), (503.268127013, 120.622065728)):
            Hole(M10_TAPPED_HOLE1_D / 2)

    # M4 Tapped Hole3
    with Locations(Plane.XY.offset(10)):
        with Locations((513.268127013, -55.377934272), (528.268127013, -55.377934272)):
            Hole(M4_TAPPED_HOLE3_D / 2, depth=M4_TAPPED_HOLE3_DEPTH)
            with Locations((0, 0, -(M4_TAPPED_HOLE3_DEPTH + M4_TAPPED_HOLE3_TIP / 2))):  # 118° drill point
                Cone(0, M4_TAPPED_HOLE3_D / 2, M4_TAPPED_HOLE3_TIP, mode=Mode.SUBTRACT)

    # Sketch15 → Cut-Extrude4 (cut, through all)
    with BuildSketch(Plane.XY.offset(10)):
        with Locations((49.768127013, 34.222065728)):
            Circle(SKETCH15_R)
        with Locations((49.768127013, -74.777934272)):
            Circle(SKETCH15_R)
        with Locations((440.268127013, 34.222065728)):
            Circle(SKETCH15_R)
        with Locations((440.268127013, -74.777934272)):
            Circle(SKETCH15_R)
        with Locations((59.768127013, 34.222065728)):
            Circle(SKETCH15_R)
        with Locations((59.768127013, -74.777934272)):
            Circle(SKETCH15_R)
        with Locations((450.268127013, 34.222065728)):
            Circle(SKETCH15_R)
        with Locations((450.268127013, -74.777934272)):
            Circle(SKETCH15_R)
    extrude(amount=-CUT_EXTRUDE4_DEPTH, mode=Mode.SUBTRACT)

    # M3 Tapped Hole1
    with Locations(Plane.XY.offset(10)):
        with Locations((204.768127013, -95.377934272), (212.768127013, -95.377934272)):
            Hole(M3_TAPPED_HOLE1_D / 2, depth=M3_TAPPED_HOLE1_DEPTH)
            with Locations((0, 0, -(M3_TAPPED_HOLE1_DEPTH + M3_TAPPED_HOLE1_TIP / 2))):  # 118° drill point
                Cone(0, M3_TAPPED_HOLE1_D / 2, M3_TAPPED_HOLE1_TIP, mode=Mode.SUBTRACT)

    # M6 Tapped Hole1
    with Locations(Plane.XY.offset(10)):
        with Locations((124.268127013, 162.622065728), (156.268127013, 162.622065728), (124.268127013, 132.622065728), (156.268127013, 132.622065728)):
            Hole(M6_TAPPED_HOLE1_D / 2, depth=M6_TAPPED_HOLE1_DEPTH)
            with Locations((0, 0, -(M6_TAPPED_HOLE1_DEPTH + M6_TAPPED_HOLE1_TIP / 2))):  # 118° drill point
                Cone(0, M6_TAPPED_HOLE1_D / 2, M6_TAPPED_HOLE1_TIP, mode=Mode.SUBTRACT)


solid = part.part
